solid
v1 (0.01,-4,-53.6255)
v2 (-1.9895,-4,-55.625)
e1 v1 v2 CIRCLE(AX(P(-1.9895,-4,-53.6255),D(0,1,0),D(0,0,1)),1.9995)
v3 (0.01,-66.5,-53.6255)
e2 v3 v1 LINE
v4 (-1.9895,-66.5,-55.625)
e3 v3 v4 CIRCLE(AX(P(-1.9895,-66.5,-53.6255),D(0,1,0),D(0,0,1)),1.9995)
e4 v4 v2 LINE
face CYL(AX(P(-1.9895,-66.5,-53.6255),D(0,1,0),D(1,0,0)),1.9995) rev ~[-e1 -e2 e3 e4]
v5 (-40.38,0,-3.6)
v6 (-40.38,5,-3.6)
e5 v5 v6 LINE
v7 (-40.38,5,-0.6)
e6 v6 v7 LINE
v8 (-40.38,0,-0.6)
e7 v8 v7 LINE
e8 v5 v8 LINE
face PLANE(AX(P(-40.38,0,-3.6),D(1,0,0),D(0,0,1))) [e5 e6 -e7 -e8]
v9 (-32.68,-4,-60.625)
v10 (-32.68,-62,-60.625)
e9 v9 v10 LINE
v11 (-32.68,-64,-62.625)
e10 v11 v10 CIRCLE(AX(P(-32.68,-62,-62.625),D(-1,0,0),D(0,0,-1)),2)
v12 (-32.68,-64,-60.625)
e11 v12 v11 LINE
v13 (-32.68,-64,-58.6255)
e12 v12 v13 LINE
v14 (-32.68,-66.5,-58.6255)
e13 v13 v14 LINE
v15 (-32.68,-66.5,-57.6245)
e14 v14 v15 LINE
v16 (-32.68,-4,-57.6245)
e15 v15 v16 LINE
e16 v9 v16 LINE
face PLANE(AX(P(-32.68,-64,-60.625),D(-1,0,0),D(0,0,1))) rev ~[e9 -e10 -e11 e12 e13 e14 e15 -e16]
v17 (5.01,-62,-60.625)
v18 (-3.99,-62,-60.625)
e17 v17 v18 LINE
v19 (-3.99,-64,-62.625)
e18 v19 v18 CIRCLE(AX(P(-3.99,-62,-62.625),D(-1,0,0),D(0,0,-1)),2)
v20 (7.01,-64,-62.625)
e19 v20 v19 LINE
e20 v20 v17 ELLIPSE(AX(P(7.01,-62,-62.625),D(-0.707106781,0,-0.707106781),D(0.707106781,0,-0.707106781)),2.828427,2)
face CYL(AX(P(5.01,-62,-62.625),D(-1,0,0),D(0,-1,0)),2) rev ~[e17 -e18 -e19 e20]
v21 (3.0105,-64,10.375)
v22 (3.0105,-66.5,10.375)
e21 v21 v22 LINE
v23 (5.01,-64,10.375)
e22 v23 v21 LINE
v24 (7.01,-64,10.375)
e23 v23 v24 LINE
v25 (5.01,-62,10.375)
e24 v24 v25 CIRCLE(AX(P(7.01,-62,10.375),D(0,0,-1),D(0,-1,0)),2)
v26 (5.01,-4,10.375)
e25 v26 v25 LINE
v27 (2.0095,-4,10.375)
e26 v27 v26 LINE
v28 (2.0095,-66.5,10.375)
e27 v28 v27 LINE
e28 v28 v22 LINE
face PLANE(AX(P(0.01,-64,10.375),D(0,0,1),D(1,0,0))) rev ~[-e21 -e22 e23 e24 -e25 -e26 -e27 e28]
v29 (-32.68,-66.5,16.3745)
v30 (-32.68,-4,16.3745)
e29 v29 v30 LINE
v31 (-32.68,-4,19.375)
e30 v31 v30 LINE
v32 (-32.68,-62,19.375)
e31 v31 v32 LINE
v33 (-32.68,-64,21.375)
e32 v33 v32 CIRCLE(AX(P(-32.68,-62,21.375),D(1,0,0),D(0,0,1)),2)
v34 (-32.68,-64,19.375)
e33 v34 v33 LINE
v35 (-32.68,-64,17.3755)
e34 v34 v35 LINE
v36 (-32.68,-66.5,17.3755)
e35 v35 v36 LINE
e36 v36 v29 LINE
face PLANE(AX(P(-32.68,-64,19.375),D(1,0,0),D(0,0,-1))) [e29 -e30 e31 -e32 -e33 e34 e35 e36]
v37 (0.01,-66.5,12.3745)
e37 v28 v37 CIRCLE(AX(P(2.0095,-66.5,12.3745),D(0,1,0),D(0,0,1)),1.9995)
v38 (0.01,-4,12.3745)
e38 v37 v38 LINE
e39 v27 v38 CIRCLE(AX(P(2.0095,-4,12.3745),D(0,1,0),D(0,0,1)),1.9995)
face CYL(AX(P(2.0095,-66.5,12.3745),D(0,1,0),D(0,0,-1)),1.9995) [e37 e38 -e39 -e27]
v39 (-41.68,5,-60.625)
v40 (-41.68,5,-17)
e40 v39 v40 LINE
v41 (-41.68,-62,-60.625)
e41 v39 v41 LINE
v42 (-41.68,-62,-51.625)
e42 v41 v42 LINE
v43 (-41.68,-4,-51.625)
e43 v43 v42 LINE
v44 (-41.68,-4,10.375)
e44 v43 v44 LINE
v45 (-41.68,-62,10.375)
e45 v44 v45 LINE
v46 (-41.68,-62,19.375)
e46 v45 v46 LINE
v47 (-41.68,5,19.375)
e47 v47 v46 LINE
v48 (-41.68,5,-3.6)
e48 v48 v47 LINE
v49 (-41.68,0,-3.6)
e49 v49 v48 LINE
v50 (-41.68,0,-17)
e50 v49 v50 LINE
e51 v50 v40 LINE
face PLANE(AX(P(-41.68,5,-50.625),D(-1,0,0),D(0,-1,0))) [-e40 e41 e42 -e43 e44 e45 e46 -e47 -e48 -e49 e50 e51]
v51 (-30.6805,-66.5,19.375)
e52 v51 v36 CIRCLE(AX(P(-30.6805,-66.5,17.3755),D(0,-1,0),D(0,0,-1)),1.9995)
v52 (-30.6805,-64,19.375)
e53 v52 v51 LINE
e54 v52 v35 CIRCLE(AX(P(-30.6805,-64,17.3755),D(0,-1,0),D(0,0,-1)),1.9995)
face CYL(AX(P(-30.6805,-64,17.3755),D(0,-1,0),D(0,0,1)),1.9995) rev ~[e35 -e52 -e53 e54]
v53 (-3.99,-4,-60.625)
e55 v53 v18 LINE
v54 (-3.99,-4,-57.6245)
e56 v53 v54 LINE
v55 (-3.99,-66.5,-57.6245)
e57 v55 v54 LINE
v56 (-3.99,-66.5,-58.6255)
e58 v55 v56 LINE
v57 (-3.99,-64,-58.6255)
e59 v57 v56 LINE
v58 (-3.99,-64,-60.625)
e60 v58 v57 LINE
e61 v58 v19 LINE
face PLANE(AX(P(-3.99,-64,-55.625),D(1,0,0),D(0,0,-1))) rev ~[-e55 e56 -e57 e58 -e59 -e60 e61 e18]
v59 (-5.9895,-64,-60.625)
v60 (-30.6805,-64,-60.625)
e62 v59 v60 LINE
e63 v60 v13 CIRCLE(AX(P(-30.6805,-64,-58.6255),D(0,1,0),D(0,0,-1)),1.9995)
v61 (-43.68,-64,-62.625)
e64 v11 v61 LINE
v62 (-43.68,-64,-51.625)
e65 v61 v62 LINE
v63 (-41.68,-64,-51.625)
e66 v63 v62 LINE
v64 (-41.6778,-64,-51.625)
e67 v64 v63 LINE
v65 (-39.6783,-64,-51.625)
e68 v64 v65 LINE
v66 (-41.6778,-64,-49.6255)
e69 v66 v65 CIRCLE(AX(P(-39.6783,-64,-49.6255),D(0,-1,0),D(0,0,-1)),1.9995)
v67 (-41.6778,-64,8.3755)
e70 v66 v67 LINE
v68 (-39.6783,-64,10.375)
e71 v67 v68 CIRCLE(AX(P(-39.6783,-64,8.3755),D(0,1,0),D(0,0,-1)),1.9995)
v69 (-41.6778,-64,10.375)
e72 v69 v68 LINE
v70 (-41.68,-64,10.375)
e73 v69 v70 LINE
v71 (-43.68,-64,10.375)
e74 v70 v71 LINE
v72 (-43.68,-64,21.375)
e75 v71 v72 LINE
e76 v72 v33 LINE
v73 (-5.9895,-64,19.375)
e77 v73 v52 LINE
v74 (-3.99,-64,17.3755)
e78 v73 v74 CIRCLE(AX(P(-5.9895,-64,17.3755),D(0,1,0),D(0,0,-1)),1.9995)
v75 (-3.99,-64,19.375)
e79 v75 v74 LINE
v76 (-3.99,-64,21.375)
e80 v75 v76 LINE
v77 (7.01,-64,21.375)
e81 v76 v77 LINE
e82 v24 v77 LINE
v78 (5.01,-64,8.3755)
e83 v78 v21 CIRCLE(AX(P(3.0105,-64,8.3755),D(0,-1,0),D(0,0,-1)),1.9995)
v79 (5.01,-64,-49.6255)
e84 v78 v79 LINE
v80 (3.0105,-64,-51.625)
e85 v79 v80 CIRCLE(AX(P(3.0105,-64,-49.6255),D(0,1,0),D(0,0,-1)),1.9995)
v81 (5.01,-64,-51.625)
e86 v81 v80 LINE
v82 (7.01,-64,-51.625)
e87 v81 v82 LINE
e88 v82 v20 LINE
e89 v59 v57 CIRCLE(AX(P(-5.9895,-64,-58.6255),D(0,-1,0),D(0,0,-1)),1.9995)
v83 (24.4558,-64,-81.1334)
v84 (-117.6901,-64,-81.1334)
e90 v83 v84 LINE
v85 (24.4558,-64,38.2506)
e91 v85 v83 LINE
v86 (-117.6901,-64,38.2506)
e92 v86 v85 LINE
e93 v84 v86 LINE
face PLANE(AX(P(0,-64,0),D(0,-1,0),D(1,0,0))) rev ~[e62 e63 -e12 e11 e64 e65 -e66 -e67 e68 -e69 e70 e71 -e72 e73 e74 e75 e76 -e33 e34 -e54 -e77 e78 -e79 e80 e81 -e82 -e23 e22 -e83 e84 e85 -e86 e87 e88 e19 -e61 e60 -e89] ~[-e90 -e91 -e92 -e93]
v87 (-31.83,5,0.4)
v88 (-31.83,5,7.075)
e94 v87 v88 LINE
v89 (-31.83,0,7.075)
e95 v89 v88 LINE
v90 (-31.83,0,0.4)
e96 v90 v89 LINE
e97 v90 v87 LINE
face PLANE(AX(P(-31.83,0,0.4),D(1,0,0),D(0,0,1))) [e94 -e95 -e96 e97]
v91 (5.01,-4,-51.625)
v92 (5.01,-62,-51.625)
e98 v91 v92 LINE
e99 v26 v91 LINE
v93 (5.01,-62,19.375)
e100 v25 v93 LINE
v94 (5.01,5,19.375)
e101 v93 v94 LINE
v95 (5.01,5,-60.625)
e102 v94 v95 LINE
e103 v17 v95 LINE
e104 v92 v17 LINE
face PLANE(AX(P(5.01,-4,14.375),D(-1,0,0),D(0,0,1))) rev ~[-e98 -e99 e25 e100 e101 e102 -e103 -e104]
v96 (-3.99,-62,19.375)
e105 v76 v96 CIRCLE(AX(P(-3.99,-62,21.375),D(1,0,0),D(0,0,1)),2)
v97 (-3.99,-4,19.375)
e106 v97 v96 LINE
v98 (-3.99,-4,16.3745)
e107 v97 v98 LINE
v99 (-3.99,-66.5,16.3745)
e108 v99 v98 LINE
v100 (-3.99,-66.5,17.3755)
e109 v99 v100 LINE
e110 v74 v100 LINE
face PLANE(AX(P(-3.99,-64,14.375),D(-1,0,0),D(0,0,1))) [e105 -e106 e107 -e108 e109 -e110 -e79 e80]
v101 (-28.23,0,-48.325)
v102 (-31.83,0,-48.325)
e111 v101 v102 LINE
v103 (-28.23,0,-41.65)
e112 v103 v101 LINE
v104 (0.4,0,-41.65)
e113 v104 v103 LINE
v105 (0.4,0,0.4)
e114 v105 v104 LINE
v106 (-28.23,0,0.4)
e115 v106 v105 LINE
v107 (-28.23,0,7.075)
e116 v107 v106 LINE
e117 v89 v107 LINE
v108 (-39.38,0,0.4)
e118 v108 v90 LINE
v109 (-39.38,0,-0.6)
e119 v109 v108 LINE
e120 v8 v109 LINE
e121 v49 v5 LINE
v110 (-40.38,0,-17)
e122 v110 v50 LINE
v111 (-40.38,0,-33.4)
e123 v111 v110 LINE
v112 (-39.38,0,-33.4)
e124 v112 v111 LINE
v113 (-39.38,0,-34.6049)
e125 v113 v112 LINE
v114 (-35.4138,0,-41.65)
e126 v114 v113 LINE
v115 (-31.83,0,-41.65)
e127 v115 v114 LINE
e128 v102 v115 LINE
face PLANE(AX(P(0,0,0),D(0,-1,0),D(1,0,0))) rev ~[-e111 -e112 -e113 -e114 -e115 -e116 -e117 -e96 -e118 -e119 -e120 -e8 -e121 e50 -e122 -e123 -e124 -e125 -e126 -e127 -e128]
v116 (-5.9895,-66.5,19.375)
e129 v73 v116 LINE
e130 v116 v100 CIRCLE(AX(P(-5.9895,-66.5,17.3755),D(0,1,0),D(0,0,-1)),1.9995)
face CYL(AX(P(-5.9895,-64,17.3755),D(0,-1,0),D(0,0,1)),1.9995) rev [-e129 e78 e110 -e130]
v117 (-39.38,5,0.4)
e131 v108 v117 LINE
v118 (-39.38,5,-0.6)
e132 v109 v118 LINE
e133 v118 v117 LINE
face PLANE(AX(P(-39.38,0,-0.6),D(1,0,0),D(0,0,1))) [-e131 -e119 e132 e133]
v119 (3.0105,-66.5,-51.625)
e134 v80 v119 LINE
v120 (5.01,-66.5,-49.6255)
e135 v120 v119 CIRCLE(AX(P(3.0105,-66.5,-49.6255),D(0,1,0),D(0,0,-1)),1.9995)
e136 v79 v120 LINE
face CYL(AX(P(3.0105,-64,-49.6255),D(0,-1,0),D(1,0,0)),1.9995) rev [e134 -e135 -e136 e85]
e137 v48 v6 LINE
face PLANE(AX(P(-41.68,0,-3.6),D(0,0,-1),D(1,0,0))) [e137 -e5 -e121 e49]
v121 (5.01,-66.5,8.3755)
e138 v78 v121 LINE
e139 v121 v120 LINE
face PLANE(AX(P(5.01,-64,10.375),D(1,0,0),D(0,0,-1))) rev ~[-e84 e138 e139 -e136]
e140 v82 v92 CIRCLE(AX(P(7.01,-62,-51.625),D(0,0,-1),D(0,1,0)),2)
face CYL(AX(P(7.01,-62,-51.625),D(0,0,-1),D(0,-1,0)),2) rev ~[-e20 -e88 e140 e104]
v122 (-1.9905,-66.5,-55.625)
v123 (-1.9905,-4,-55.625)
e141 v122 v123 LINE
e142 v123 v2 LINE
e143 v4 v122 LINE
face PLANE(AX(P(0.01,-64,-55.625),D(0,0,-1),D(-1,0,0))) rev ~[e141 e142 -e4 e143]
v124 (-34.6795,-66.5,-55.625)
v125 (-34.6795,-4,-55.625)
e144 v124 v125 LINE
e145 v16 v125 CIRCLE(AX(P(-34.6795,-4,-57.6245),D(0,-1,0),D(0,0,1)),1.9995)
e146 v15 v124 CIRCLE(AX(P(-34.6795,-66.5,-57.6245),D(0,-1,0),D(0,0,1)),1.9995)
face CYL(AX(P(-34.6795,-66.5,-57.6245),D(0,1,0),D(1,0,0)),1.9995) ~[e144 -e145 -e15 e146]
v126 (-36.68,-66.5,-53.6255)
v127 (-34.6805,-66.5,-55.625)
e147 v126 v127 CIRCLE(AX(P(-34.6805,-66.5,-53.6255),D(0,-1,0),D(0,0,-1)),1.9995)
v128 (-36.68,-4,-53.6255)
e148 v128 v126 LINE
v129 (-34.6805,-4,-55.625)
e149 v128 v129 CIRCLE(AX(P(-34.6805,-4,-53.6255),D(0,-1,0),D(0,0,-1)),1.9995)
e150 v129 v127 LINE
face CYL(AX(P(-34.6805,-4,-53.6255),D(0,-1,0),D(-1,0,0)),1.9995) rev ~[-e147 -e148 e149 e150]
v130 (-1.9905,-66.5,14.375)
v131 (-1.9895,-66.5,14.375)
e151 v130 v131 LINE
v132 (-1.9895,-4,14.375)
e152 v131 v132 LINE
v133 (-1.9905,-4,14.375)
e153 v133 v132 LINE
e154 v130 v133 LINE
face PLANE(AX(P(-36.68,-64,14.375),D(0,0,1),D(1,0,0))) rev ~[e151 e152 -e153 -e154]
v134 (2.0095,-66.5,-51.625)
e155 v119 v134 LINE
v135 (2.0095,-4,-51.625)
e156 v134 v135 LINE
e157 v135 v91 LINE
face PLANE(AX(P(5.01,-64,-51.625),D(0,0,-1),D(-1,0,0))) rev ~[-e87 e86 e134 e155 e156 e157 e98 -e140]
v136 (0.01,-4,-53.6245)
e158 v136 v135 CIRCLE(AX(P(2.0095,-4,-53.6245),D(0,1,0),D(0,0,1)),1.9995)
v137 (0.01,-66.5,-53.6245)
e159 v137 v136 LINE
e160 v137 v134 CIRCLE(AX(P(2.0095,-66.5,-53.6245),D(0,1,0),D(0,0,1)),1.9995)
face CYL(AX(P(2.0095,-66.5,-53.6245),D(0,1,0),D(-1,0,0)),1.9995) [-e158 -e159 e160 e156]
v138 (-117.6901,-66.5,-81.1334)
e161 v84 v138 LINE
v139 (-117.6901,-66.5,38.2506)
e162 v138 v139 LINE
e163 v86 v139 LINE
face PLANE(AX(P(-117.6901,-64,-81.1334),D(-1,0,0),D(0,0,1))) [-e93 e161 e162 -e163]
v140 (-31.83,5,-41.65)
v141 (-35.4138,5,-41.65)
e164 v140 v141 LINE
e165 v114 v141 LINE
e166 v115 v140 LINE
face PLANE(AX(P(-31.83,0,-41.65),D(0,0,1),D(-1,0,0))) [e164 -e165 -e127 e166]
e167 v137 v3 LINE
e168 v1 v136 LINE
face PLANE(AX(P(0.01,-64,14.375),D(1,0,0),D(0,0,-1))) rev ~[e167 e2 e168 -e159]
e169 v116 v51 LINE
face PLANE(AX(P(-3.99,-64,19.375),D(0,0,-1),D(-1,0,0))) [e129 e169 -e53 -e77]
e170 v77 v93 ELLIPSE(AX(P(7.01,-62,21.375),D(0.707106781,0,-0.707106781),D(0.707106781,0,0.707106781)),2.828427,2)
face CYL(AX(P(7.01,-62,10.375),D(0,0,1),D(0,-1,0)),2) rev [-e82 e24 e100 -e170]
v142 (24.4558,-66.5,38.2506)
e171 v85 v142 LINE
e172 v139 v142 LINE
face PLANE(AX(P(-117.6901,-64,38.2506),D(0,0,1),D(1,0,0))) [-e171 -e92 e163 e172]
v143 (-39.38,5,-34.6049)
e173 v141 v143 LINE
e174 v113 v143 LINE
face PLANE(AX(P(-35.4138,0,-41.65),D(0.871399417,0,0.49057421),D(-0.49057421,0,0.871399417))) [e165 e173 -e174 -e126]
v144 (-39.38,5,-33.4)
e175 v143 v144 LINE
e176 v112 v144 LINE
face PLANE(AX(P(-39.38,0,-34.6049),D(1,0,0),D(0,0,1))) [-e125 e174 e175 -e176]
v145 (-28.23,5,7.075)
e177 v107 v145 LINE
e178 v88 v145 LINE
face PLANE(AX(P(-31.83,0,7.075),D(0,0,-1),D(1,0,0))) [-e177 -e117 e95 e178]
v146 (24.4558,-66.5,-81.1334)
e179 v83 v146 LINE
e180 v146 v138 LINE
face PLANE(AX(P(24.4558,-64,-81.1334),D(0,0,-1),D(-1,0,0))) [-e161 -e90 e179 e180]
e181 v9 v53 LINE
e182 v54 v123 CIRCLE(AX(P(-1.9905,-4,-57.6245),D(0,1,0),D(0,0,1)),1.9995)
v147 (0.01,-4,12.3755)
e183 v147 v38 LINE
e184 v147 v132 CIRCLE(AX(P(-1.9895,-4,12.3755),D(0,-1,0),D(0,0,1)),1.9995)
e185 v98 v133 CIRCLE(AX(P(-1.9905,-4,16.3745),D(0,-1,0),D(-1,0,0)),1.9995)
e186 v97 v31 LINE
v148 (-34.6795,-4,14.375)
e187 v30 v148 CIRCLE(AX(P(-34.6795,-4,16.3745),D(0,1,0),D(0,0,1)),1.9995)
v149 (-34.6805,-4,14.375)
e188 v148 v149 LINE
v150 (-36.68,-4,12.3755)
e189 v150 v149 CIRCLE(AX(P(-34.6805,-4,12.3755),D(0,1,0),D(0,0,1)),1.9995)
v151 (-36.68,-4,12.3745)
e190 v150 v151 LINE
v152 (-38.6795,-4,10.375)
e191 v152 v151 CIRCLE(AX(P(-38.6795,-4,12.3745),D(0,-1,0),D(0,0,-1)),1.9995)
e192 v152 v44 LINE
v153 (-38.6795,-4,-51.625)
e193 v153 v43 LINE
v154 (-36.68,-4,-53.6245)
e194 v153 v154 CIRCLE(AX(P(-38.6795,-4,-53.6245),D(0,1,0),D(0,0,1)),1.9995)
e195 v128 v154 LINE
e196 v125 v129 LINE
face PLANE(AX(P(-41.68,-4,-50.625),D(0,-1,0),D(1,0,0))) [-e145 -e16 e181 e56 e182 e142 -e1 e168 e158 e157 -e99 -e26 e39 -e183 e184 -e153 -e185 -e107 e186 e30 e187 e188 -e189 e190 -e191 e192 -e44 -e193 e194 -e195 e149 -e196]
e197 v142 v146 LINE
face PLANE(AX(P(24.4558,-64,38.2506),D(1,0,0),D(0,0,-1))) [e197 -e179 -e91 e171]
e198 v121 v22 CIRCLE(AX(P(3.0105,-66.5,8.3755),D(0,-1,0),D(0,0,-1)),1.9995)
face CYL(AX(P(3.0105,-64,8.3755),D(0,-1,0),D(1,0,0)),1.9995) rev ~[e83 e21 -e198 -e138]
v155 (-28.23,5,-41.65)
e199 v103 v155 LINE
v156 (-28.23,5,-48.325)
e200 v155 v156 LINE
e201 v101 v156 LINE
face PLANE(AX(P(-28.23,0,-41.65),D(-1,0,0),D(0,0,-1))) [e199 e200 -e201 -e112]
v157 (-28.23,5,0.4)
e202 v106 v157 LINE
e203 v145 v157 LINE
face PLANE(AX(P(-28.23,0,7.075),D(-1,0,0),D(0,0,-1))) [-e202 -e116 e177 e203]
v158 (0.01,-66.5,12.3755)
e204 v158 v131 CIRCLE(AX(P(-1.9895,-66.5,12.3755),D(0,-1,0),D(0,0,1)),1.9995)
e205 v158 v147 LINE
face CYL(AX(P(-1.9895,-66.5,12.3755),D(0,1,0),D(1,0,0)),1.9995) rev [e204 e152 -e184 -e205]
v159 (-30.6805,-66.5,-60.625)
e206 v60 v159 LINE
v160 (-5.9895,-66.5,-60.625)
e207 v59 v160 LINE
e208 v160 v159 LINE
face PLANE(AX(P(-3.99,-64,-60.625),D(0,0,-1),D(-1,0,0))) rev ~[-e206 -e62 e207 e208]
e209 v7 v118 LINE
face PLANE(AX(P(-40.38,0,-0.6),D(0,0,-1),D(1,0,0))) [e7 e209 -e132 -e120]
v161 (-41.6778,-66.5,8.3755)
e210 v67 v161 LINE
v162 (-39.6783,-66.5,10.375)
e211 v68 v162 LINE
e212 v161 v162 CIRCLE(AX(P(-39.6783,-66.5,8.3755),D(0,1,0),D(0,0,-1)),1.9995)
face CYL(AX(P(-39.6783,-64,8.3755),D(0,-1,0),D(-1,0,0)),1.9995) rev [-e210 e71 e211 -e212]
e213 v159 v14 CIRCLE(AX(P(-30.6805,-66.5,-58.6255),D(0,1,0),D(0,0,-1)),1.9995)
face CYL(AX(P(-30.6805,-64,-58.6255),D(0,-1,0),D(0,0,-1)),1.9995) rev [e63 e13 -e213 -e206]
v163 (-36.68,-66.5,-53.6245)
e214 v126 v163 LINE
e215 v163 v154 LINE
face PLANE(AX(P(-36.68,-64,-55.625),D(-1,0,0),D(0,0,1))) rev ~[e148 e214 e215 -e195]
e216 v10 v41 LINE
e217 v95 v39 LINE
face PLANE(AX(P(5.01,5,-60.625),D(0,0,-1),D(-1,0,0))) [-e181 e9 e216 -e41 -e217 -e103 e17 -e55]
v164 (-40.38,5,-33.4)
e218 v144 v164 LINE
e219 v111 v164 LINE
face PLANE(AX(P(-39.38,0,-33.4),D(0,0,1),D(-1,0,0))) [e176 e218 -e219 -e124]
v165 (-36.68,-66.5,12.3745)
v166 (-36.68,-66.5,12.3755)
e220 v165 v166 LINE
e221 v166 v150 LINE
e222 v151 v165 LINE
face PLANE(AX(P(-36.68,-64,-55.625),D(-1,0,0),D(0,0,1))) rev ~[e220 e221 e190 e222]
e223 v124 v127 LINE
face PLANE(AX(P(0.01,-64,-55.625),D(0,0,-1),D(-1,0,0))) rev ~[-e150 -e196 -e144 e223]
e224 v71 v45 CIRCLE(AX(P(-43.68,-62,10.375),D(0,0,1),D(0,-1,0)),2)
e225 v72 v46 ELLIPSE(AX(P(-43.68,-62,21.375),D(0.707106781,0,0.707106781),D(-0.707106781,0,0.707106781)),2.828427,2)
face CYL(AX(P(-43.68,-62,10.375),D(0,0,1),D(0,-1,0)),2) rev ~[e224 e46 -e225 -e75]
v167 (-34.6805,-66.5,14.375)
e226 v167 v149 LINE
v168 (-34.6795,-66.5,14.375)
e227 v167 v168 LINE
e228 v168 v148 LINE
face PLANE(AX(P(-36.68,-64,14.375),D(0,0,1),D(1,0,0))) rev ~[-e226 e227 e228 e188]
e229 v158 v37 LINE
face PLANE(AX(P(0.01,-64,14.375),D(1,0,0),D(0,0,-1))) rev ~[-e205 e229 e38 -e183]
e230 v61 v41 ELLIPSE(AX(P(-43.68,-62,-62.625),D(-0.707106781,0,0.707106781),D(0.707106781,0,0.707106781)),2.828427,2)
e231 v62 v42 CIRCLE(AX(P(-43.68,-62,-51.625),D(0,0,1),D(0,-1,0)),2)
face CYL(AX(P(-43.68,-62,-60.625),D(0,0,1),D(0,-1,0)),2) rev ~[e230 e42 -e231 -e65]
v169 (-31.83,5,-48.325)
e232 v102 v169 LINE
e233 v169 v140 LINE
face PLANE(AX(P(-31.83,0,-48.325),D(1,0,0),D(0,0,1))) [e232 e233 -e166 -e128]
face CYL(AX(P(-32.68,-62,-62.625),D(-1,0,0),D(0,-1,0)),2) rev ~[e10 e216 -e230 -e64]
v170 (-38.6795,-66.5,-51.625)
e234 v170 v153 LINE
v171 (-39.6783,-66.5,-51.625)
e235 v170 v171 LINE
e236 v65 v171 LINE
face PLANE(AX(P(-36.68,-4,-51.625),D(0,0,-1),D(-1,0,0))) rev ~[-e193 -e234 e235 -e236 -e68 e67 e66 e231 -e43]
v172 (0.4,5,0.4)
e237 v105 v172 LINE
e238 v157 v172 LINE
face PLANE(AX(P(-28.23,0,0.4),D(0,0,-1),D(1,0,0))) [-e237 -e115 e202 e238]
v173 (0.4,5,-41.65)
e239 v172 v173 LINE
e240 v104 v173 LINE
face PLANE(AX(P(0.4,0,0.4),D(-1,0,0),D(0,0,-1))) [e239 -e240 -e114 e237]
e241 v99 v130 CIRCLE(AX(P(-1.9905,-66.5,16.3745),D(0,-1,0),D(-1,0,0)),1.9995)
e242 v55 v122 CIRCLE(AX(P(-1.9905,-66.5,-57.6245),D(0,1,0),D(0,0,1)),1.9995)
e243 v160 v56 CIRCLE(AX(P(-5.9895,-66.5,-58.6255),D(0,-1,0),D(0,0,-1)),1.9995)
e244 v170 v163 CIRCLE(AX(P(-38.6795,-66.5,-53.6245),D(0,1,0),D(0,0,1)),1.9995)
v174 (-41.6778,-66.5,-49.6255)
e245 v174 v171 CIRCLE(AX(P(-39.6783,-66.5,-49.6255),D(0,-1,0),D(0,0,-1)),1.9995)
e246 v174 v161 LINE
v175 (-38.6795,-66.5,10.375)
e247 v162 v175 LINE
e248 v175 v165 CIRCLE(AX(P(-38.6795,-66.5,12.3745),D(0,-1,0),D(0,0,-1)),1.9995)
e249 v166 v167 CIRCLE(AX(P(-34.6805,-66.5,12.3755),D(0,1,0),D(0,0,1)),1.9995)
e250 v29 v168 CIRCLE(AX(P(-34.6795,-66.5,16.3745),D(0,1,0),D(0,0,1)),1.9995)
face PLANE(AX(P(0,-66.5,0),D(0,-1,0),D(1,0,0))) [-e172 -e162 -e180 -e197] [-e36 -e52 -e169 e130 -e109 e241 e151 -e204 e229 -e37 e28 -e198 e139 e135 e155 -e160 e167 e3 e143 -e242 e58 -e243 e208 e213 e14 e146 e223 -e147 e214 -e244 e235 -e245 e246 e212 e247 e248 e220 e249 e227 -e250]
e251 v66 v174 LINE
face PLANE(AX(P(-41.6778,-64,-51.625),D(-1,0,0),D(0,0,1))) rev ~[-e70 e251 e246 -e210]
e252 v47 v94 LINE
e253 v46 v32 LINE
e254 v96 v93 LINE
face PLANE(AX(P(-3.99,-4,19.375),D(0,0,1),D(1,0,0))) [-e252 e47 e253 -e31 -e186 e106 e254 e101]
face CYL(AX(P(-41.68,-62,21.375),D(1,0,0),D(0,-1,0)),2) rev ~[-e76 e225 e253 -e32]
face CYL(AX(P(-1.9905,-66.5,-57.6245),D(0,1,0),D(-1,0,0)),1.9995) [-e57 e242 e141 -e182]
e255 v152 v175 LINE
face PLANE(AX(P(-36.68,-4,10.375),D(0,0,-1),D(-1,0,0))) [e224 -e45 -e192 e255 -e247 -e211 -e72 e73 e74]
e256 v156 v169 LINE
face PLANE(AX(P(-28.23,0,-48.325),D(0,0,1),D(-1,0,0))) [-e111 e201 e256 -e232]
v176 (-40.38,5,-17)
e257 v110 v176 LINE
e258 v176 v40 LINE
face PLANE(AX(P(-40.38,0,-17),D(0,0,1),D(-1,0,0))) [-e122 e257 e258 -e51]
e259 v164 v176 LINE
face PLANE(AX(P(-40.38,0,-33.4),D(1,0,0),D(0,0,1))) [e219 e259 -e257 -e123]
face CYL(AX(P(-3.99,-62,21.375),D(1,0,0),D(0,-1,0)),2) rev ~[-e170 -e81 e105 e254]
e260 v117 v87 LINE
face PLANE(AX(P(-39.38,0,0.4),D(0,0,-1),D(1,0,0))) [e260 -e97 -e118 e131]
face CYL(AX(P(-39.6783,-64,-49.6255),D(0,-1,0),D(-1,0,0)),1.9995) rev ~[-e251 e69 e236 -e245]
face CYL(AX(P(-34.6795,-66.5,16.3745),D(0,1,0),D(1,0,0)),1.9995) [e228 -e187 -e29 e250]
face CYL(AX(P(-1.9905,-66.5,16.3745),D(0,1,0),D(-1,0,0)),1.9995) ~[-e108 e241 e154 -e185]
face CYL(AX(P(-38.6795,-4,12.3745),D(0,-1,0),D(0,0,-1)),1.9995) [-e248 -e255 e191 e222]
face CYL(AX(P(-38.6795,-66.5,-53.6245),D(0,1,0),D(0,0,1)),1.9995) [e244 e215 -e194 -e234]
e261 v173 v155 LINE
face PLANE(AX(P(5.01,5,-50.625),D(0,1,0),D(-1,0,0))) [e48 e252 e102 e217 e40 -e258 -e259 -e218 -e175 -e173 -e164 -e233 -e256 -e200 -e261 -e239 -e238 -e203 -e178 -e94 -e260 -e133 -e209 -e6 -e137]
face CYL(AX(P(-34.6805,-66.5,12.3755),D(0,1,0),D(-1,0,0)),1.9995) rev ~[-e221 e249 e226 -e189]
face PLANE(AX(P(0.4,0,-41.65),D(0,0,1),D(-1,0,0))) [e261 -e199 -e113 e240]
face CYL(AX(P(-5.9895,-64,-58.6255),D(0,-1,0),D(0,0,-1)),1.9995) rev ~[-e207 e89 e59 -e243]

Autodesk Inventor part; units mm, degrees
ref_plane "YZ Plane" through (0, 0, 0) normal (1, 0, 0) x (0, 1, 0)
ref_plane "XZ Plane" through (0, 0, 0) normal (0, 1, 0) x (-1, 0, 0)
ref_plane "XY Plane" through (0, 0, 0) normal (0, 0, 1) x (1, 0, 0)
sketch "Sketch1" plane through (0, 0, 0) normal (0, 1, 0) x (-1, 0, 0)
  line L0 (0, 0) -> (28.63, 0)
  line L1 (28.63, 0) -> (28.63, -41.25) construction
  line L2 (28.63, -41.25) -> (0, -41.25)
  line L3 (0, -41.25) -> (0, 0)
  line L4 (28.63, 6.675) -> (31.43, 6.675)
  line L5 (31.43, 6.675) -> (31.43, 0)
  line L6 (31.43, -47.925) -> (28.63, -47.925)
  line L7 (28.63, -47.925) -> (28.63, -41.25)
  line L8 (31.43, -20.625) -> (28.63, -20.625) construction
  line L9 (38.98, 0) -> (31.43, 0)
  line L10 (31.43, 0) -> (31.43, -41.25) construction
  line L11 (31.43, -41.25) -> (35.18, -41.25)
  line L12 (38.98, -41.25) -> (38.98, -34.5) construction
  line L13 (31.43, -41.25) -> (35.18, -41.25) construction
  line L14 (38.98, 0) -> (38.98, -1) construction
  line L15 (38.98, -34.5) -> (35.18, -41.25)
  line L16 (38.98, -34.5) -> (38.98, -33)
  line L17 (35.18, -41.25) -> (38.98, -41.25) construction
  line L18 (38.98, 0) -> (38.98, -1) construction
  line L19 (38.98, -1) -> (39.98, -1)
  line L20 (39.98, -1) -> (39.98, -4)
  line L21 (39.98, -33) -> (38.98, -33)
  line L22 (38.98, -33) -> (38.98, -1) construction
  line L23 (38.98, -1) -> (38.98, -33) construction
  line L24 (38.98, -33) -> (38.98, -34.5) construction
  line L25 (38.98, -1) -> (38.98, 0)
  line L26 (38.98, -33) -> (38.98, -1) construction
  line L27 (31.43, 0) -> (31.43, -41.25) construction
  line L28 (31.43, -41.25) -> (31.43, -47.925)
  line L29 (28.63, -41.25) -> (28.63, 0) construction
  line L30 (28.63, 0) -> (28.63, 6.675)
  line L31 (28.63, 0) -> (31.43, 0) construction
  line L32 (31.43, -41.25) -> (28.63, -41.25) construction
  line L33 (39.98, -1) -> (39.98, -4) construction
  line L34 (39.98, -4) -> (41.28, -4)
  line L35 (41.28, -4) -> (41.28, -16.6)
  line L36 (41.28, -16.6) -> (39.98, -16.6)
  line L37 (39.98, -16.6) -> (39.98, -4) construction
  line L38 (39.98, -4) -> (39.98, -16.6) construction
  line L39 (39.98, -16.6) -> (39.98, -33)
  line L40 (41.68, -17) -> (41.68, -3.6)
  line L41 (41.68, -3.6) -> (40.38, -3.6)
  line L42 (40.38, -3.6) -> (40.38, -0.6)
  line L43 (40.38, -0.6) -> (39.38, -0.6)
  line L44 (39.38, -0.6) -> (39.38, 0.4)
  line L45 (39.38, 0.4) -> (31.83, 0.4)
  line L46 (31.83, 0.4) -> (31.83, 7.075)
  line L47 (31.83, 7.075) -> (28.23, 7.075)
  line L48 (28.23, 7.075) -> (28.23, 0.4)
  line L49 (28.23, 0.4) -> (-0.4, 0.4)
  line L50 (-0.4, 0.4) -> (-0.4, -41.65)
  line L51 (-0.4, -41.65) -> (28.23, -41.65)
  line L52 (28.23, -41.65) -> (28.23, -48.325)
  line L53 (28.23, -48.325) -> (31.83, -48.325)
  line L54 (31.83, -48.325) -> (31.83, -41.65)
  line L55 (31.83, -41.65) -> (35.4138, -41.65)
  line L56 (35.4138, -41.65) -> (39.38, -34.6049)
  line L57 (39.38, -34.6049) -> (39.38, -33.4)
  line L58 (39.38, -33.4) -> (40.38, -33.4)
  line L59 (40.38, -33.4) -> (40.38, -17)
  line L60 (40.38, -17) -> (41.68, -17)
  line L61 (0, -20.625) -> (39.98, -20.625) construction
  line L62 (44.99, 9.375) -> (-5.01, 9.375)
  line L63 (-5.01, 9.375) -> (-5.01, -50.625)
  line L64 (-5.01, -50.625) -> (44.99, -50.625)
  line L65 (44.99, -50.625) -> (44.99, 9.375)
  line L66 (19.99, 9.375) -> (19.99, -50.625) construction
  point P0 (30.03, 6.675)
  point P1 (19.99, -20.625)
  dimension "d0" = 28.63
  dimension "d1" = 41.25
  dimension "d2" = 2.8
  dimension "d3" = 54.6
  dimension "d4" = 7.55
  dimension "d5" = 41.25
  dimension "d6" = 3.75
  dimension "d7" = 34.5
  dimension "d8" = 1
  dimension "d9" = 32
  dimension "d10" = 1
  dimension "d11" = 6.675
  dimension "d12" = 3
  dimension "d13" = 1.3
  dimension "d14" = 12.6
  dimension "d15" = 0.4
  dimension "d16" = 50
  dimension "d17" = 60
extrude "Extrusion1" add sketch "Sketch1" along normal blind 5 contours L65 L64 L63 L62
sketch "Sketch2" plane through (0, 5, 0) normal (0, 1, 0) x (1, 0, 0)
  line L0 (-44.99, 50.625) -> (-44.99, -9.375) projected
  line L1 (5.01, 50.625) -> (-44.99, 50.625) projected
  line L2 (-44.99, -9.375) -> (-41.68, -9.375)
  line L3 (-41.68, -9.375) -> (-41.68, 50.625)
  line L4 (-41.68, 50.625) -> (-44.99, 50.625)
  line L5 (-44.99, 50.625) -> (-44.99, -9.375)
  point P0 (0, 0)
  dimension "d20" = 3.31
extrude "Extrusion2" cut sketch "Sketch2" against normal through all
sketch "Sketch3" plane through (0, 0, 0) normal (0, -1, 0) x (1, 0, 0)
  line L0 (5.01, 9.375) -> (5.01, -50.625) projected
  line L1 (-41.68, -17) -> (-41.68, -50.625) projected
  line L2 (5.01, 9.375) -> (-41.68, 9.375)
  line L3 (-41.68, 9.375) -> (-41.68, -50.625)
  line L4 (-41.68, -50.625) -> (5.01, -50.625)
  line L5 (5.01, -50.625) -> (5.01, 9.375)
  point P0 (0, 0)
extrude "Extrusion3" add sketch "Sketch3" along normal blind 4
sketch "Sketch4" plane through (-41.68, 5, 9.375) normal (0, 0, 1) x (1, 0, 0)
  line L0 (0, 0) -> (0, -9) projected
  line L1 (46.69, -9) -> (46.69, 0) projected
  line L2 (0, 0) -> (46.69, 0)
  line L3 (46.69, 0) -> (46.69, -9)
  line L4 (46.69, -9) -> (0, -9)
  line L5 (0, -9) -> (0, 0)
  point P0 (41.68, -5)
extrude "Extrusion4" add sketch "Sketch4" along normal blind 10
sketch "Sketch5" plane through (5.01, 5, -50.625) normal (0, 0, -1) x (-1, 0, 0)
  line L0 (0, 0) -> (46.69, 0) projected
  line L1 (46.69, 0) -> (46.69, -9) projected
  line L2 (0, 0) -> (46.69, 0)
  line L3 (46.69, 0) -> (46.69, -9)
  line L4 (46.69, -9) -> (0, -9)
  line L5 (0, -9) -> (0, 0)
  point P0 (5.01, -5)
extrude "Extrusion5" add sketch "Sketch5" along normal blind 10
sketch "Sketch6" plane through (0, -4, 0) normal (0, -1, 0) x (1, 0, 0)
  line L0 (-41.68, 19.375) -> (5.01, 19.375) projected
  line L1 (5.01, 19.375) -> (0.01, 19.375)
  line L2 (0.01, 14.375) -> (0.01, 10.375)
  line L3 (0.01, 10.375) -> (5.01, 10.375)
  line L4 (5.01, 10.375) -> (5.01, 19.375)
  line L5 (5.01, 19.375) -> (-3.99, 19.375)
  line L6 (-3.99, 19.375) -> (-3.99, 14.375)
  line L7 (-3.99, 14.375) -> (0.01, 14.375)
  line L8 (5.01, 14.375) -> (5.01, 19.375)
  point P0 (0, 0)
  dimension "d29" = 5
  dimension "d30" = 9
  dimension "d31" = 9
  dimension "d32" = 5
extrude "Extrusion6" add sketch "Sketch6" along normal blind 60
sketch "Sketch7" plane through (0, -4, 0) normal (0, -1, 0) x (1, 0, 0)
  line L0 (5.01, -60.625) -> (5.01, 19.375) projected
  line L1 (5.01, -60.625) -> (-3.99, -60.625)
  line L2 (-3.99, -60.625) -> (-3.99, -55.625)
  line L3 (-3.99, -55.625) -> (0.01, -55.625)
  line L4 (5.01, -55.625) -> (5.01, -60.625)
  line L5 (5.01, -60.625) -> (0.01, -60.625)
  line L6 (0.01, -55.625) -> (0.01, -51.625)
  line L7 (0.01, -51.625) -> (5.01, -51.625)
  line L8 (5.01, -51.625) -> (5.01, -60.625)
  line L9 (-41.68, -60.625) -> (-41.68, 19.375) projected
  line L10 (-41.68, -60.625) -> (-32.68, -60.625)
  line L11 (-32.68, -60.625) -> (-32.68, -55.625)
  line L12 (-32.68, -55.625) -> (-36.68, -55.625)
  line L13 (-41.68, -55.625) -> (-41.68, -60.625)
  line L14 (-41.68, -60.625) -> (-36.68, -60.625)
  line L15 (-36.68, -55.625) -> (-36.68, -51.625)
  line L16 (-36.68, -51.625) -> (-41.68, -51.625)
  line L17 (-41.68, -51.625) -> (-41.68, -60.625)
  line L18 (-41.68, 19.375) -> (-32.68, 19.375)
  line L19 (-32.68, 19.375) -> (-32.68, 14.375)
  line L20 (-32.68, 14.375) -> (-36.68, 14.375)
  line L21 (-41.68, 14.375) -> (-41.68, 19.375)
  line L22 (-41.68, 19.375) -> (-36.68, 19.375)
  line L23 (-36.68, 14.375) -> (-36.68, 10.375)
  line L24 (-36.68, 10.375) -> (-41.68, 10.375)
  line L25 (-41.68, 10.375) -> (-41.68, 19.375)
  point P0 (0, 0)
  dimension "d35" = 9
  dimension "d36" = 5
  dimension "d37" = 5
  dimension "d38" = 9
  dimension "d39" = 9
  dimension "d40" = 5
  dimension "d41" = 5
  dimension "d42" = 9
  dimension "d43" = 9
  dimension "d44" = 5
  dimension "d45" = 5
  dimension "d46" = 9
extrude "Extrusion7" add sketch "Sketch7" along normal blind 60
sketch "Sketch8" plane through (0, -64, 0) normal (0, -1, 0) x (1, 0, 0)
  line L0 (24.4558, -81.1334) -> (-117.6901, -81.1334)
  line L1 (-117.6901, -81.1334) -> (-117.6901, 38.2506)
  line L2 (-117.6901, 38.2506) -> (24.4558, 38.2506)
  line L3 (24.4558, 38.2506) -> (24.4558, -81.1334)
  point P0 (0, 0)
extrude "Extrusion8" add sketch "Sketch8" along normal blind 2.5
sketch "Sketch9" plane through (0, -64, 0) normal (0, 1, 0) x (1, 0, 0)
  line L0 (-36.68, -10.375) -> (-36.68, -14.375) projected
  line L1 (0.01, 51.625) -> (0.01, 55.625) projected
  line L2 (-36.68, -14.375) -> (0.01, -14.375)
  line L3 (0.01, -14.375) -> (0.01, 55.625)
  line L4 (0.01, 55.625) -> (-36.68, 55.625)
  line L5 (-36.68, 55.625) -> (-36.68, -14.375)
  line L6 (-3.99, -19.375) -> (-32.68, -19.375)
  line L7 (-41.68, -10.375) -> (-41.68, 51.625)
  line L8 (-3.99, 60.625) -> (5.01, 60.625) projected
  line L9 (-32.68, 60.625) -> (-3.99, 60.625)
  line L10 (5.01, 51.5309) -> (5.01, -10.375)
  point P0 (0, 0)
extrude "Extrusion9" cut sketch "Sketch9" against normal blind 2.5
sketch "Sketch10" plane through (0, -64, 0) normal (0, 1, 0) x (1, 0, 0)
  line L0 (0.01, -10.375) -> (5.01, -10.375) projected
  line L1 (5.01, 51.625) -> (0.01, 51.625) projected
  line L2 (0.01, -10.375) -> (5.01, -10.375)
  line L3 (5.01, -10.375) -> (5.01, 51.625)
  line L4 (5.01, 51.625) -> (0.01, 51.625)
  line L5 (0.01, 51.625) -> (0.01, -10.375)
  line L6 (-3.99, 55.625) -> (-3.99, 60.625) projected
  line L7 (-32.68, 60.625) -> (-32.68, 55.625) projected
  line L8 (-3.99, 60.625) -> (-32.68, 60.625)
  line L9 (-32.68, 60.625) -> (-32.68, 55.625)
  line L10 (-32.68, 55.625) -> (-3.99, 55.625)
  line L11 (-3.99, 55.625) -> (-3.99, 60.625)
  line L12 (-36.68, 55.625) -> (-36.68, -14.375) projected
  line L13 (-36.68, 51.625) -> (-41.6778, 51.625)
  line L14 (-41.6778, 51.625) -> (-41.6778, -10.375)
  line L15 (-41.6778, -10.375) -> (-36.68, -10.375)
  line L16 (-36.68, -10.375) -> (-36.68, 51.625)
  line L17 (-3.99, -14.375) -> (-32.68, -14.375) projected
  line L18 (-32.68, -14.375) -> (-3.99, -14.375)
  line L19 (-3.99, -14.375) -> (-3.99, -19.375)
  line L20 (-3.99, -19.375) -> (-32.68, -19.375)
  line L21 (-32.68, -19.375) -> (-32.68, -14.375)
  point P0 (0, 0)
extrude "Extrusion10" cut sketch "Sketch10" against normal blind 2.5
fillet "Fillet1" radius 2 5 edges at (-3.99, -65.25, -60.625) (0.01, -35.25, -55.625) (0.01, -35.25, -51.625) (-3.99, -35.25, -55.625) (5.01, -65.25, -51.625)
fillet "Fillet2" radius 2 10 edges at (5.01, -65.25, 10.375) (0.01, -35.25, 10.375) (0.01, -35.25, 14.375) (-3.99, -35.25, 14.375) (-3.99, -65.25, 19.375) (-32.68, -65.25, 19.375) (-32.68, -35.25, 14.375) (-36.68, -35.25, 14.375) (-36.68, -35.25, 10.375) (-41.6778, -65.25, 10.375)
fillet "Fillet3" radius 2 5 edges at (-36.68, -35.25, -51.625) (-36.68, -35.25, -55.625) (-32.68, -35.25, -55.625) (-32.68, -65.25, -60.625) (-41.6778, -65.25, -51.625)
fillet "Fillet4" radius 2 8 edges at (-41.68, -64, -56.125) (-37.18, -64, -60.625) (-41.68, -64, 14.875) (-37.18, -64, 19.375) (0.51, -64, 19.375) (5.01, -64, 14.875) (5.01, -64, -56.125) (0.51, -64, -60.625)
equation "\"d5\" = d1"
properties part number "OMG_20kg_servo_side_profile(0.4mm)"
